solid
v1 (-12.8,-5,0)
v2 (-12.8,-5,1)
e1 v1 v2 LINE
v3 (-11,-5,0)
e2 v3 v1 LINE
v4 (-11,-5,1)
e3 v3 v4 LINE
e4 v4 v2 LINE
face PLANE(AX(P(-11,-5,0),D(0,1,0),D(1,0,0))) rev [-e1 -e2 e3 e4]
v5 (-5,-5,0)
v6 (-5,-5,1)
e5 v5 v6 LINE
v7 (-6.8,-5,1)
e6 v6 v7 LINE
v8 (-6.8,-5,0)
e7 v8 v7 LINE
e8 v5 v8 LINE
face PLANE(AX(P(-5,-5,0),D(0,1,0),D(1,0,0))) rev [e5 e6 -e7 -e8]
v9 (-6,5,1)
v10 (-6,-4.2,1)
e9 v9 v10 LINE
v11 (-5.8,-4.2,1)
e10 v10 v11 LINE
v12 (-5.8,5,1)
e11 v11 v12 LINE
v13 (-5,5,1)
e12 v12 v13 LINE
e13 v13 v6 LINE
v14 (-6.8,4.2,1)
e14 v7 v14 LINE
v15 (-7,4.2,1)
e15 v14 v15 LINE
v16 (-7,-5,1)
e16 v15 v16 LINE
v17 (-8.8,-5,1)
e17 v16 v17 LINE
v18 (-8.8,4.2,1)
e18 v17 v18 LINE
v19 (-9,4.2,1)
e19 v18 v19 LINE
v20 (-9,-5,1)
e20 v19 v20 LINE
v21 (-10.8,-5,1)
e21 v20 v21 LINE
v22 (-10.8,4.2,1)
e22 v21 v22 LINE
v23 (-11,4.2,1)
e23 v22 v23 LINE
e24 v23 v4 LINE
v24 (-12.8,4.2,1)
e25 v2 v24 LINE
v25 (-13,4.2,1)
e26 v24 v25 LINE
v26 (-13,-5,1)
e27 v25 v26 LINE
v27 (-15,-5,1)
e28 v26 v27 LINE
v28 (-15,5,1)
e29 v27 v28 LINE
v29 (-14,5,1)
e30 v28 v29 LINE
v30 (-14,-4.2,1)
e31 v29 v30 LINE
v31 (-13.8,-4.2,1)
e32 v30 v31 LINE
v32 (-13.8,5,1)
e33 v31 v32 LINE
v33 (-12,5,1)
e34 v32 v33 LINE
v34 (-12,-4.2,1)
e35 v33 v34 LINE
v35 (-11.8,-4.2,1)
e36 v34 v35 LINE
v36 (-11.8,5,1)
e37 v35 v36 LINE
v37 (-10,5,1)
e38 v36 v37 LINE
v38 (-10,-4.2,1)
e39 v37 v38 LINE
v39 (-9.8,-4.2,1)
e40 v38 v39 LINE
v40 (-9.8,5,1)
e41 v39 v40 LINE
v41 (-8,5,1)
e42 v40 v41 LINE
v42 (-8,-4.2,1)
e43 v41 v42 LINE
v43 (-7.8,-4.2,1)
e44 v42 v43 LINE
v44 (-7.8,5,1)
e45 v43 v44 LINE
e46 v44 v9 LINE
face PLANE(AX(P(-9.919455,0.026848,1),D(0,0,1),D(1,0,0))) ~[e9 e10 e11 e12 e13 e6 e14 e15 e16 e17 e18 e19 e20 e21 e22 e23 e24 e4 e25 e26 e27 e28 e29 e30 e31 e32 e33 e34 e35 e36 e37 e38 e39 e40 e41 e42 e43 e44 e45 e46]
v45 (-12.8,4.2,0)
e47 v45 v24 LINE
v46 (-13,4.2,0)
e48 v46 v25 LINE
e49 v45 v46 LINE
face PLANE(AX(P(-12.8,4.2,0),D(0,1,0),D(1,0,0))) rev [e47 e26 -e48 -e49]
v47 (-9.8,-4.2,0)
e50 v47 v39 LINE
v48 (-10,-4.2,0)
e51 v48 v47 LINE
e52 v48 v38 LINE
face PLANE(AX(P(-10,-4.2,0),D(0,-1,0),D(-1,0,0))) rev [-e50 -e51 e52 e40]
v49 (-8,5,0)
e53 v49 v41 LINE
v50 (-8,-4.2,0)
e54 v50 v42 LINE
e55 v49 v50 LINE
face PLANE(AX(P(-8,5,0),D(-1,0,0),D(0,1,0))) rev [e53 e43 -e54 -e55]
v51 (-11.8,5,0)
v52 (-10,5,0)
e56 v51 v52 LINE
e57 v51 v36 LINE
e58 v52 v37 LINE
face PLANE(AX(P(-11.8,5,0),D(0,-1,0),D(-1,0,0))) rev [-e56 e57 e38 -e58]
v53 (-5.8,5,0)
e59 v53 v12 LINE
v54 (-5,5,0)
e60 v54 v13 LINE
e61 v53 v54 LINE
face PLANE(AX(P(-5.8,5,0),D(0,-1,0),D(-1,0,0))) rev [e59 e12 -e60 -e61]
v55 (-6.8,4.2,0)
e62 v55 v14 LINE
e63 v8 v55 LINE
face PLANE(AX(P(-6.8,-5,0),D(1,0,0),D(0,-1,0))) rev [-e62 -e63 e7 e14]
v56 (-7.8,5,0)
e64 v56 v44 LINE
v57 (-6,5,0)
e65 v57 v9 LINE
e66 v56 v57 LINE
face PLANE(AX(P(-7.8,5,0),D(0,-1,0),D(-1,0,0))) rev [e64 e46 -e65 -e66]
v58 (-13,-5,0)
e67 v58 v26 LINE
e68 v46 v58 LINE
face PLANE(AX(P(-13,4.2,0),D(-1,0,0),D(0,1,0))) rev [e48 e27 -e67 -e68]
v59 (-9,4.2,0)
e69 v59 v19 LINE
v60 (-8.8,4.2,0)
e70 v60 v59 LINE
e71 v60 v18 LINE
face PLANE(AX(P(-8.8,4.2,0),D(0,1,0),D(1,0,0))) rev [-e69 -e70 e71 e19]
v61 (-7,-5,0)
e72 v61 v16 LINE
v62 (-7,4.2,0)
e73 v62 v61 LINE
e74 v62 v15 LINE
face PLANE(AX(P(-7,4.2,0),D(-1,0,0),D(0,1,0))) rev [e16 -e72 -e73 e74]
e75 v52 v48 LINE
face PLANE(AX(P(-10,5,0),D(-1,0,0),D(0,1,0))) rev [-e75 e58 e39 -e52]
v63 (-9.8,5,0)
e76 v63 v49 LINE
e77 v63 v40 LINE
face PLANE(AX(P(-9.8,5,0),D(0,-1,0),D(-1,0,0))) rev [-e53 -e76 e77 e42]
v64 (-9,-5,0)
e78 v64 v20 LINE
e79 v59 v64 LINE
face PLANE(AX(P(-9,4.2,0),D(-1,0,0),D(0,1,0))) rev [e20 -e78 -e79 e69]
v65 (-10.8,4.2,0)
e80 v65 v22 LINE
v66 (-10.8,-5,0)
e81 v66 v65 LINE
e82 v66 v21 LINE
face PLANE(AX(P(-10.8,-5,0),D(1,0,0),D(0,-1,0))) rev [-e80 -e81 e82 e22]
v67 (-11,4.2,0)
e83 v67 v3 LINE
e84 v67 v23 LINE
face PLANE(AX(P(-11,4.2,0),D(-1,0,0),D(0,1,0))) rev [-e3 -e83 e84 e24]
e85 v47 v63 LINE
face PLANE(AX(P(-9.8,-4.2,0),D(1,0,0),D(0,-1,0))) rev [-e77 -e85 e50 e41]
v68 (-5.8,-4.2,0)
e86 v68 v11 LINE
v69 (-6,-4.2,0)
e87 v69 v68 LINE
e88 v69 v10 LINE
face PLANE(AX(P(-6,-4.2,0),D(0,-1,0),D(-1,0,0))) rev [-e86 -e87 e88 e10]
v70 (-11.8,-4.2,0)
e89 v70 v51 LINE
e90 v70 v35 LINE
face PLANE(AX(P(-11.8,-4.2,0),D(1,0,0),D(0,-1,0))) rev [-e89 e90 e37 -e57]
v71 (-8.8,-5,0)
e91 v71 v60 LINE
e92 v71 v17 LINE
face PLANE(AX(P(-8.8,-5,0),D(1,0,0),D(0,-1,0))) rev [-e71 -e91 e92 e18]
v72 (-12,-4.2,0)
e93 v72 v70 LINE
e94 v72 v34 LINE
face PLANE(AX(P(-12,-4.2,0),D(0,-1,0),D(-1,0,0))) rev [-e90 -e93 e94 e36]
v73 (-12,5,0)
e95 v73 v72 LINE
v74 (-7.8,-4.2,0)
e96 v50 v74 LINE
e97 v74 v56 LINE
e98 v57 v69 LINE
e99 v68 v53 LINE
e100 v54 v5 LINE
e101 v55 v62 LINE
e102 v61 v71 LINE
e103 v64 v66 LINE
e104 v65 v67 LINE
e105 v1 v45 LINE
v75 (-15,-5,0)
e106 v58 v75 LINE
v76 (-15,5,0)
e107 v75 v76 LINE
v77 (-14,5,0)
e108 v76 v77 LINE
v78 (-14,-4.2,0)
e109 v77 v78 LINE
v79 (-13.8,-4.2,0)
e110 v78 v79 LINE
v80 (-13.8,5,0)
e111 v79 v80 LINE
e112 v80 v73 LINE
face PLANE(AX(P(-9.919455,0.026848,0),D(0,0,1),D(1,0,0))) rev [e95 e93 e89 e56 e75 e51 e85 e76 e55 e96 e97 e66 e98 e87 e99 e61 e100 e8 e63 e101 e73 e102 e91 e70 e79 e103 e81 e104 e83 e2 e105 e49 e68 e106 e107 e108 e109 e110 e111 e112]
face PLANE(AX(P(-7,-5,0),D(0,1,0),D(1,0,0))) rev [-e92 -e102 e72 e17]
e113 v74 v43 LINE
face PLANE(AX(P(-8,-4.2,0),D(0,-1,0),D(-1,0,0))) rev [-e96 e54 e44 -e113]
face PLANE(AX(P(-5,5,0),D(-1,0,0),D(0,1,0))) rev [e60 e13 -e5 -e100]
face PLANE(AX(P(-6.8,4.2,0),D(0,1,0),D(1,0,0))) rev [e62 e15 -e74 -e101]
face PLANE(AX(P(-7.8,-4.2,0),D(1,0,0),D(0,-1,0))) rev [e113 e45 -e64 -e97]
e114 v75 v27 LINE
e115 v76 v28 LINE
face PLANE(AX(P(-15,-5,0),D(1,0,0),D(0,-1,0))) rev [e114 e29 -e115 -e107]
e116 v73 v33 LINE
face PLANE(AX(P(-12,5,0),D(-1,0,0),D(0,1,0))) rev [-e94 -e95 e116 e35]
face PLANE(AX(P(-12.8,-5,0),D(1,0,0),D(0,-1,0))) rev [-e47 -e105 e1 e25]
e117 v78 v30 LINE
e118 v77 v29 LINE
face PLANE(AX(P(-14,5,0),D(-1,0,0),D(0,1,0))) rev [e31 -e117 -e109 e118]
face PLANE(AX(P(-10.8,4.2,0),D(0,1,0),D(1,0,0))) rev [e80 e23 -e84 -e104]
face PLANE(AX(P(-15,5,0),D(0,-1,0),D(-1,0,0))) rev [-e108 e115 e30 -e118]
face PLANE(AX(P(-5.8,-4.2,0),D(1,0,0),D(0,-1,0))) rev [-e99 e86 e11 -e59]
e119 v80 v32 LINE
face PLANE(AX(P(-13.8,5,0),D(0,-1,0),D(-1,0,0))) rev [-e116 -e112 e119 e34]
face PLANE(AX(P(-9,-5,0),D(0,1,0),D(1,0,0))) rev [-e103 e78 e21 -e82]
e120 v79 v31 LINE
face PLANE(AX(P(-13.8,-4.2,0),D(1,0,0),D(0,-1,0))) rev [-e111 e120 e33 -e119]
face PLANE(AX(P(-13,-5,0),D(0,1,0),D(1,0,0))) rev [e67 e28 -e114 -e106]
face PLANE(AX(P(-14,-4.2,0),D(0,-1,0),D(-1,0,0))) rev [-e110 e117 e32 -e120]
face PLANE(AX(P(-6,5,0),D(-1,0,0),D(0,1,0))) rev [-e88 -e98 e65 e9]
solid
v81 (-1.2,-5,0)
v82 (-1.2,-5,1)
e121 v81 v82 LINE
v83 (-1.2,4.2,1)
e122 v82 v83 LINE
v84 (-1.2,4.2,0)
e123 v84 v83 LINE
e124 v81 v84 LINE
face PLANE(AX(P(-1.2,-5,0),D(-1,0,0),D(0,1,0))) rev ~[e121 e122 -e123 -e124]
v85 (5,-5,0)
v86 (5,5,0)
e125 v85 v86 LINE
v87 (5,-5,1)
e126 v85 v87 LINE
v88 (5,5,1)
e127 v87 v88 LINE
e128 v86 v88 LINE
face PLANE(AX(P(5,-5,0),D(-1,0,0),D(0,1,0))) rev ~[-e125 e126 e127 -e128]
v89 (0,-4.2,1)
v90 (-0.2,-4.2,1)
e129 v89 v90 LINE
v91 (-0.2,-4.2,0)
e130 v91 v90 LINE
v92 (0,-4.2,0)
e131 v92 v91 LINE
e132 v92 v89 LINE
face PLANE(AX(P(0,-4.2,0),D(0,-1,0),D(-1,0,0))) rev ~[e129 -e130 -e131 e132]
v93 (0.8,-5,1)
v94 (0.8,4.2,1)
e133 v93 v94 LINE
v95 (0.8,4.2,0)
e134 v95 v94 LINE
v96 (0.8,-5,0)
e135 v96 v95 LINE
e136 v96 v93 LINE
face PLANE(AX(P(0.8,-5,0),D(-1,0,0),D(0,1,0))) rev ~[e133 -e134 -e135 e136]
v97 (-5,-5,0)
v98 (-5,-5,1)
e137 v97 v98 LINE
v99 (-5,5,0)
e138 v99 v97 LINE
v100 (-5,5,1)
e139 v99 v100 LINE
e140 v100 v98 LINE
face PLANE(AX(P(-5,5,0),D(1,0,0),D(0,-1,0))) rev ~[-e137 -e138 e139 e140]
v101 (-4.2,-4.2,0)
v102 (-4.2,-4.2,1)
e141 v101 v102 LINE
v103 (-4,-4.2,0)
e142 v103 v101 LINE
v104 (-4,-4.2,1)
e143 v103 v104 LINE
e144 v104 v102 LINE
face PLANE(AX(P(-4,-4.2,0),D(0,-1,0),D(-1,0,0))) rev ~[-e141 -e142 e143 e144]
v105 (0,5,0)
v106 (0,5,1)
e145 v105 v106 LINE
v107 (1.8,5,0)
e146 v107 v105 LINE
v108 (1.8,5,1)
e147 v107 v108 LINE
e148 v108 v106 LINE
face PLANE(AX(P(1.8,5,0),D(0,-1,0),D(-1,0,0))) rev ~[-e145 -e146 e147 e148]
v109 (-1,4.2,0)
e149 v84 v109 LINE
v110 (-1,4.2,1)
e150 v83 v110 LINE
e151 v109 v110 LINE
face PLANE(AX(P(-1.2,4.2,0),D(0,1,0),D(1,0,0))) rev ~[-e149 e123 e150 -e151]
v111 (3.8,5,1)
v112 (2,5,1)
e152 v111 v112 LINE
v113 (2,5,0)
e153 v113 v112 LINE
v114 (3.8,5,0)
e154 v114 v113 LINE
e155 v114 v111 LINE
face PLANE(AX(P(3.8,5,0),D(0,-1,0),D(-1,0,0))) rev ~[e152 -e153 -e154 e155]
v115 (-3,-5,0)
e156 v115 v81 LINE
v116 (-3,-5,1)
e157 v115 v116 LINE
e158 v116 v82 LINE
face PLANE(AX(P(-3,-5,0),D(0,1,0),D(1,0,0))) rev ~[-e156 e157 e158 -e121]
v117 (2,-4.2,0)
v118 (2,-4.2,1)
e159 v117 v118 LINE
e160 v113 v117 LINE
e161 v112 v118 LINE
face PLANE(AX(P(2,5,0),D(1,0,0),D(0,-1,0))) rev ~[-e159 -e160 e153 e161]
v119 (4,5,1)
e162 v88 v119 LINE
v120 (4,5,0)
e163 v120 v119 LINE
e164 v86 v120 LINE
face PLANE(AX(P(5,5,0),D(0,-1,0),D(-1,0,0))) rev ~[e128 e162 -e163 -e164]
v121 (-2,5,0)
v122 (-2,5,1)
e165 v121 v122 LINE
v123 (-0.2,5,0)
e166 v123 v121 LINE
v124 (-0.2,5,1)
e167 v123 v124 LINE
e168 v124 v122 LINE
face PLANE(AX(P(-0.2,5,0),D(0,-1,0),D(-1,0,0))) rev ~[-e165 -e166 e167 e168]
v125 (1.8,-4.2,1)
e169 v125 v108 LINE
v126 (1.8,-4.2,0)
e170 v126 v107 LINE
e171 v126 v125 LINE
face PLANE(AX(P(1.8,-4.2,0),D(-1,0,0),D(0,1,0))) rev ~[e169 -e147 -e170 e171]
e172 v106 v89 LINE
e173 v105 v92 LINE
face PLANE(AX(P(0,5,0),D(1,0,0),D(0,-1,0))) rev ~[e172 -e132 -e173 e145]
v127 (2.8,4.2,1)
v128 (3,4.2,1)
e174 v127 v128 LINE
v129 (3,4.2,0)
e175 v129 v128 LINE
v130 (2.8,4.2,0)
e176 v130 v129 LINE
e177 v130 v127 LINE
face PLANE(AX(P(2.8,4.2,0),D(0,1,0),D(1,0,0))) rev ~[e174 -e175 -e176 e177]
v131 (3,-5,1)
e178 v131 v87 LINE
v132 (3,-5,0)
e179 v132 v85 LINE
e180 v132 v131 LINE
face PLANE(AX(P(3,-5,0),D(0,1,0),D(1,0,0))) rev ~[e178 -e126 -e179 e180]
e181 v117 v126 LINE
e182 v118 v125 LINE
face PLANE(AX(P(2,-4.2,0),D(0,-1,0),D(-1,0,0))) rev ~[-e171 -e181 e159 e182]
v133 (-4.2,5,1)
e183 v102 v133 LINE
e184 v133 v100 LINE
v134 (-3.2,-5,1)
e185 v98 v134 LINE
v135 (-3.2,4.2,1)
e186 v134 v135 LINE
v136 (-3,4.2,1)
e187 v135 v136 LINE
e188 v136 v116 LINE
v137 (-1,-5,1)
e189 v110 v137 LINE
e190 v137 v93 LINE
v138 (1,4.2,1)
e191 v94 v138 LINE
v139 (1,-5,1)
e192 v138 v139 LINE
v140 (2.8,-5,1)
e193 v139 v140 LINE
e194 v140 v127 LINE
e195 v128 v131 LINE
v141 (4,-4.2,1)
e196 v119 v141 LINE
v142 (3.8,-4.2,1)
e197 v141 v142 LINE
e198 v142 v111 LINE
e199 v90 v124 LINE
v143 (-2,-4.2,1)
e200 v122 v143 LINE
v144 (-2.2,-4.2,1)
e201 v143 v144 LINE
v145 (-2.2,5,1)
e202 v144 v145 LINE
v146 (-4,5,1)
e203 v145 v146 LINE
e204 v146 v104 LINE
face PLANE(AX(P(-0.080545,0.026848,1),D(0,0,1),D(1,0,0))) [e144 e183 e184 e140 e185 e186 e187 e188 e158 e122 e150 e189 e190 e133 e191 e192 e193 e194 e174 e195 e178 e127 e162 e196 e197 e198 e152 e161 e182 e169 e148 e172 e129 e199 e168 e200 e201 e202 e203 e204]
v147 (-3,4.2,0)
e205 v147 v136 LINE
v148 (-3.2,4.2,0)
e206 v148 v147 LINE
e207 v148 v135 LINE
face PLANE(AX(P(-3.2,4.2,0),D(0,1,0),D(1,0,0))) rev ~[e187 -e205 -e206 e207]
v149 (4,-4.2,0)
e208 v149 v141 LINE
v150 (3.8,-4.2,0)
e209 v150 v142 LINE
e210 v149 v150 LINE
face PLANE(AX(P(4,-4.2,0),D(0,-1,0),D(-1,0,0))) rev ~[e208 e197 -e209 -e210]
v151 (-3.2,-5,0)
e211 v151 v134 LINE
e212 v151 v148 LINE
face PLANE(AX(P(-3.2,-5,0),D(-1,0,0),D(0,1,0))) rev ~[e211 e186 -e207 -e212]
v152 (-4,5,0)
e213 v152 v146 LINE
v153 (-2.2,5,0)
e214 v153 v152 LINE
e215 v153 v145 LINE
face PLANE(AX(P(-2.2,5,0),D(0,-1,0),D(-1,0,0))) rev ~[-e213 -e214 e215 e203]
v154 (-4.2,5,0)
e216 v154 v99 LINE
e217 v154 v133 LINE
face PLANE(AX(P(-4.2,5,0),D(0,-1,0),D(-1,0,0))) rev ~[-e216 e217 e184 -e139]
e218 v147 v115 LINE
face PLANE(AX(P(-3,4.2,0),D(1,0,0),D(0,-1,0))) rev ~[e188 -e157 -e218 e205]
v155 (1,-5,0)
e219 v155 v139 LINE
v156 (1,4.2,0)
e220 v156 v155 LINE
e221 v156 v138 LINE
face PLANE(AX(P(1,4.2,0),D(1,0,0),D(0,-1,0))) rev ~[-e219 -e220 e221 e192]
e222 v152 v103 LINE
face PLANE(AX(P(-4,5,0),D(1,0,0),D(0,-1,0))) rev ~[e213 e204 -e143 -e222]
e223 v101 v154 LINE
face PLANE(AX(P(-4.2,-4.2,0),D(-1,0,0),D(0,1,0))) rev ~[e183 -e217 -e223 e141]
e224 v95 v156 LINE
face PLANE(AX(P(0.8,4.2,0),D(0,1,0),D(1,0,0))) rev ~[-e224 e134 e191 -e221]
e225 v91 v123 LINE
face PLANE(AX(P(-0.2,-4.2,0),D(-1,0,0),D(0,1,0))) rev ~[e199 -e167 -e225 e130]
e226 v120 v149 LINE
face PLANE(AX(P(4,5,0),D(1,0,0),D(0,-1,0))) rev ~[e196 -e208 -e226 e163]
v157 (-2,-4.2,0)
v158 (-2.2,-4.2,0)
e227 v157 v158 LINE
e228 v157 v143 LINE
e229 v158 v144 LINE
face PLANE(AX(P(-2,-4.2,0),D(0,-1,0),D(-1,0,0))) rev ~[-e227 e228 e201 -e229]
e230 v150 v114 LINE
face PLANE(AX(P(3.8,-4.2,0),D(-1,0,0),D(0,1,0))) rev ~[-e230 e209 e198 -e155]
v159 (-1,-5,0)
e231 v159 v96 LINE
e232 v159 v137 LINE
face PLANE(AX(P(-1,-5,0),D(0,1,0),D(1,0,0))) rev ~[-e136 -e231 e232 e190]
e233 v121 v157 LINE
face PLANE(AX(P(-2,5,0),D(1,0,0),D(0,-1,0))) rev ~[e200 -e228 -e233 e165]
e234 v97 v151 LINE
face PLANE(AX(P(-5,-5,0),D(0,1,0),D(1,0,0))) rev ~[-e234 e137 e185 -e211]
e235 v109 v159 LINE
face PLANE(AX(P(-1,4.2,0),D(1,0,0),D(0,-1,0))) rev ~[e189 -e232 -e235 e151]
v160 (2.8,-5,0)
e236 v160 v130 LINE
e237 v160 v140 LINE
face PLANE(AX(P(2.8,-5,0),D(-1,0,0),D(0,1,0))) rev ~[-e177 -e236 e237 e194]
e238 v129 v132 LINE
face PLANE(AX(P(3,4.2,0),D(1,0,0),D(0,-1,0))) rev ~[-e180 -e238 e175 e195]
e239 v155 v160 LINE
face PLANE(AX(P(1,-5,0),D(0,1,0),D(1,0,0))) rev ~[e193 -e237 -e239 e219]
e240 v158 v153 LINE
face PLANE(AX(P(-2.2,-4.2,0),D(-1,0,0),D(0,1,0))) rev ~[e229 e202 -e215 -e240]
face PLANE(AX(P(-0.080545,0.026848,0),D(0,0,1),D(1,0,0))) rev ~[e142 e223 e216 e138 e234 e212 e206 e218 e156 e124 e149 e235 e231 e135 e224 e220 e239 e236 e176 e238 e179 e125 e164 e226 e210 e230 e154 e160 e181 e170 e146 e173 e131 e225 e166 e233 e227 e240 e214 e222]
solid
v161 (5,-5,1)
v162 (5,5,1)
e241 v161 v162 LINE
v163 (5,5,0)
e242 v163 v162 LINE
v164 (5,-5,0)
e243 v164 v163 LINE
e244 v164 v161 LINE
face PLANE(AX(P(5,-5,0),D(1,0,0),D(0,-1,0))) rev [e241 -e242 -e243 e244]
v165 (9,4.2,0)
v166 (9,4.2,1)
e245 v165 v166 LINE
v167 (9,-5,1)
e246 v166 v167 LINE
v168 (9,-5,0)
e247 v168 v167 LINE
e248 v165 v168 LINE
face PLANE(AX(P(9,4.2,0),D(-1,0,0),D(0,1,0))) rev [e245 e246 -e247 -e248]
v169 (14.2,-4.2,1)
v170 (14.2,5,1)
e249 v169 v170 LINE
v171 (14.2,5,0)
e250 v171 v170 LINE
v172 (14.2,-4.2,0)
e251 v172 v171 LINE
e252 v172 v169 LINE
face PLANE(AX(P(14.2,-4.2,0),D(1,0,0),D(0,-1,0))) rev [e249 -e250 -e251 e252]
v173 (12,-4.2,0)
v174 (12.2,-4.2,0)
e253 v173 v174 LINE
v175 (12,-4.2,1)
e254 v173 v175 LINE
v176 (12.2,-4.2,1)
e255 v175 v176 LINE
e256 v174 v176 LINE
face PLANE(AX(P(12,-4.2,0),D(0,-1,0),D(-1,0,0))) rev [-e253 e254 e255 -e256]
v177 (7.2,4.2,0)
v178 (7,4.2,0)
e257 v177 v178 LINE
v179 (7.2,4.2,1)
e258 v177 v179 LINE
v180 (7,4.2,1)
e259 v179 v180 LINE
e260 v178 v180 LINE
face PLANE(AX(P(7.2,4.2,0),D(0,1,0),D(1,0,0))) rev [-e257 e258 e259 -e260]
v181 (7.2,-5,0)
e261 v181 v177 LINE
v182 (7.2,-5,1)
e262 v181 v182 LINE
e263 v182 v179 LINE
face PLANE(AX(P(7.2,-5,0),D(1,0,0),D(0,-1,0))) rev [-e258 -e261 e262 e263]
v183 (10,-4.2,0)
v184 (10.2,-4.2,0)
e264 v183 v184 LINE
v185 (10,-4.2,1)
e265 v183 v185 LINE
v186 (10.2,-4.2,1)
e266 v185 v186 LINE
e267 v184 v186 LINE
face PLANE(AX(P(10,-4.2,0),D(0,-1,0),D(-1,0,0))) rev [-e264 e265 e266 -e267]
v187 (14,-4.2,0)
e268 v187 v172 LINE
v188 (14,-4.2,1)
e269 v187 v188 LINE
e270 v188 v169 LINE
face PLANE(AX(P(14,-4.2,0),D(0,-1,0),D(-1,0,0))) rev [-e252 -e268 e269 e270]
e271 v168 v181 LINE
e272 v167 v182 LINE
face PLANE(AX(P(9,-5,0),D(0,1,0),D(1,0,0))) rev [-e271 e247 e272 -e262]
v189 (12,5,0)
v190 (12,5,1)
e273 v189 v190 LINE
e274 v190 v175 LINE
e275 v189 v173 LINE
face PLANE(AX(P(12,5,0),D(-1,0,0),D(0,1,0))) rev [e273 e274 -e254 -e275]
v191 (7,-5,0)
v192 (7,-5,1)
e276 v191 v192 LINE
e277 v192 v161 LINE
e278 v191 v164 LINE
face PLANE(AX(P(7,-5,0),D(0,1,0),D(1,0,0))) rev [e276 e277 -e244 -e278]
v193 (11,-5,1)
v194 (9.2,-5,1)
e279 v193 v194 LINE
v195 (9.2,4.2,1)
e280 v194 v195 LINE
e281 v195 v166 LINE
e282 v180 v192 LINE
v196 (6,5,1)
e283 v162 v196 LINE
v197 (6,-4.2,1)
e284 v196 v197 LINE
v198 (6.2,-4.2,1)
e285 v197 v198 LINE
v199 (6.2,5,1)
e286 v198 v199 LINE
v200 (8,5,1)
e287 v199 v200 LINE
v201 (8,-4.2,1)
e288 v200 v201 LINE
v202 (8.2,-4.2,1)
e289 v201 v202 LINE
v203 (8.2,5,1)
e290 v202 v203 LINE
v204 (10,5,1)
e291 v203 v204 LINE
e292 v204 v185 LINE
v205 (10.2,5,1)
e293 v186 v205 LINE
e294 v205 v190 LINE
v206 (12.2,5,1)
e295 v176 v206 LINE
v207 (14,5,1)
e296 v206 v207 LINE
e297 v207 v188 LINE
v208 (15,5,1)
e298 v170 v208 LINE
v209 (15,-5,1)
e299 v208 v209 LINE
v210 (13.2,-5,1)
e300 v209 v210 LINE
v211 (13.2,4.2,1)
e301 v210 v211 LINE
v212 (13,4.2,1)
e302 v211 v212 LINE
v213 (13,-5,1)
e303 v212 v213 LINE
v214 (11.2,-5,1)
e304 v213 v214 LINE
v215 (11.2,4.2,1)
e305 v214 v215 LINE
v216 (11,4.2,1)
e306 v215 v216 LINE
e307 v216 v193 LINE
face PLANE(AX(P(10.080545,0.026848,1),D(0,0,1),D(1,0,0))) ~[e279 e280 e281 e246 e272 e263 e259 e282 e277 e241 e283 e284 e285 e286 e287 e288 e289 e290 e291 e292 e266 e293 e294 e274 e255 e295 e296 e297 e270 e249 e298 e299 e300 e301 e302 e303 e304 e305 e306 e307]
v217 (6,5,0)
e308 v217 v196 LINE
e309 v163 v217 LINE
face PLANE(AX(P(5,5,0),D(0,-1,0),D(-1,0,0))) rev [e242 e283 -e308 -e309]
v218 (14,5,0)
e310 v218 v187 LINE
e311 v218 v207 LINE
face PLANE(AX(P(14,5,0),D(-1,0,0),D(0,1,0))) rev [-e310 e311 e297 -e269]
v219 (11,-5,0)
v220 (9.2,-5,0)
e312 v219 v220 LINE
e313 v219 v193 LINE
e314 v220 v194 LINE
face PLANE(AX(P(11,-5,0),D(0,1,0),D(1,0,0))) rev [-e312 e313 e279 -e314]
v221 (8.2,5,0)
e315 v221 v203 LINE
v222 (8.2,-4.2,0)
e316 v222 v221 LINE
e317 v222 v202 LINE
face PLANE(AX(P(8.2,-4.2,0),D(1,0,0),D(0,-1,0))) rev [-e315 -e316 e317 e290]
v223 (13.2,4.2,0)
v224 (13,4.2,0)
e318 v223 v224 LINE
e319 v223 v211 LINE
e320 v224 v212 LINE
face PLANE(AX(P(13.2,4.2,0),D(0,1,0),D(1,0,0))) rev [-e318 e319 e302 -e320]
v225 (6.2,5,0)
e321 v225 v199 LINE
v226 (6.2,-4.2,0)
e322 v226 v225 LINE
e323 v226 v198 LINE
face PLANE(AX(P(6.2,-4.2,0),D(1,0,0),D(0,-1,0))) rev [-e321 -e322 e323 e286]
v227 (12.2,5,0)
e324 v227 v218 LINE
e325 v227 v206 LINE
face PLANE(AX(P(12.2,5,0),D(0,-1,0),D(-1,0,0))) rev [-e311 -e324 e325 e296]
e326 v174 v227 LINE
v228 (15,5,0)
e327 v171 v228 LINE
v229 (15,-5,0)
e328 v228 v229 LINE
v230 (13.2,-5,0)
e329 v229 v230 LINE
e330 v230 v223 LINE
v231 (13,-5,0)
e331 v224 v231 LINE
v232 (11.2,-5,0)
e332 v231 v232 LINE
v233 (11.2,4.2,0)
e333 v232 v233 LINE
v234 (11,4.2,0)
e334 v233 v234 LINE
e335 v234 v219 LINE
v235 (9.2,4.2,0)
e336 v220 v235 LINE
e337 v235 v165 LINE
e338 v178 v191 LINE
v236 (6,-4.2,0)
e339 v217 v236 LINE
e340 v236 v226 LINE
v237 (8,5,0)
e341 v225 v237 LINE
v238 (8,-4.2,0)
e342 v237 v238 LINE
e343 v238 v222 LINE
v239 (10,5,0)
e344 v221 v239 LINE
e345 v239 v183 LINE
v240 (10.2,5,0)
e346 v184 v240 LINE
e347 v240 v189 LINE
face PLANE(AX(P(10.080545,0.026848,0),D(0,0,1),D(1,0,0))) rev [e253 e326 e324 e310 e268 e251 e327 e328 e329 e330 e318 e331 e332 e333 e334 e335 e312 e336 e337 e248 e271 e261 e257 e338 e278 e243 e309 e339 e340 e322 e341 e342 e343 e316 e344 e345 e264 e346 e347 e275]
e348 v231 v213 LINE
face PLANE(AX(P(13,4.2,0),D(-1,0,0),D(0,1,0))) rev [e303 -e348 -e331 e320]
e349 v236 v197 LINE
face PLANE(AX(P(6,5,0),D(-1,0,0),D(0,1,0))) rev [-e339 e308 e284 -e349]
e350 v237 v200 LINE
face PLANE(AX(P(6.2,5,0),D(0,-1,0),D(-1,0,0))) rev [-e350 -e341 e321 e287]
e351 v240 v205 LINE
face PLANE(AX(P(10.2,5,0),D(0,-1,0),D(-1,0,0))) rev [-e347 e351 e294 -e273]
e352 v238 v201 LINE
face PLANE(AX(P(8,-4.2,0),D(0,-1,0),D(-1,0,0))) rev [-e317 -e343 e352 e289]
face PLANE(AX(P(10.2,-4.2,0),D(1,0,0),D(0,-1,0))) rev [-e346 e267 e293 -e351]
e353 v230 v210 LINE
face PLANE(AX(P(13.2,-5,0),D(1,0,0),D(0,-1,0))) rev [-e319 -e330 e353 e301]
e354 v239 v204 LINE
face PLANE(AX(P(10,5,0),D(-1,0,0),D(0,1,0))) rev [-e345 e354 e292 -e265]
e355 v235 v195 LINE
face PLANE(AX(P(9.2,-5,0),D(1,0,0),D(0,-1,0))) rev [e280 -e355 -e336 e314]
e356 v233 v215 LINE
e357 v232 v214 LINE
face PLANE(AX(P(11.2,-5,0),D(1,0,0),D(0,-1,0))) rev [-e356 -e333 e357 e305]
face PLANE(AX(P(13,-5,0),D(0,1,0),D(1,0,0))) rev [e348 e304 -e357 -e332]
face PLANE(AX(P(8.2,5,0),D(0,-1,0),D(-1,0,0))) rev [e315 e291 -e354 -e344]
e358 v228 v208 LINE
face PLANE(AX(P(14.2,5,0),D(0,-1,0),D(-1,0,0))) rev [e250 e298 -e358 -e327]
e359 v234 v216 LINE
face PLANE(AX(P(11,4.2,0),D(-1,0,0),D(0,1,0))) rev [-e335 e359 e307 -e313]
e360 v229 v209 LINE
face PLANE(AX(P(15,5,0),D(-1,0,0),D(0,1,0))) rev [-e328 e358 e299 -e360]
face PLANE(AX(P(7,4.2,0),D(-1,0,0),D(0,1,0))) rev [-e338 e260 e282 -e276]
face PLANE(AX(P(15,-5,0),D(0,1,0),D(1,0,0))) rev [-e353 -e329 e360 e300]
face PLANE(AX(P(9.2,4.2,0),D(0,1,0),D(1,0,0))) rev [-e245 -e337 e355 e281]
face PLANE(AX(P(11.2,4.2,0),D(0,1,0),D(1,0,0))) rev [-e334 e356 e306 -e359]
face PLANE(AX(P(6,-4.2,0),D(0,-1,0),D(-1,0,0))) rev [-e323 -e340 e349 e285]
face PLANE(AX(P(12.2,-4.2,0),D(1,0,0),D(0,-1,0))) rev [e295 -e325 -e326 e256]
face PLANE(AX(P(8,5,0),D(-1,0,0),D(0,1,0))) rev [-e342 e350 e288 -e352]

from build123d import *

# Parameters (mm, degrees)
F1_DEPTH = 1


with BuildPart() as f1:
    # F0 (on Top) → F1 (new body)
    with BuildSketch(Plane.XY):
        Polygon((5, -5), (5, 5), (4, 5), (4, -4.2), (3.8, -4.2), (3.8, 5), (2, 5), (2, -4.2), (1.8, -4.2), (1.8, 5), (0.888324, 5), (0, 5), (0, -4.2), (-0.2, -4.2), (-0.2, 5), (-2, 5), (-2, -4.2), (-2.2, -4.2), (-2.2, 5), (-4, 5), (-4, -4.2), (-4.2, -4.2), (-4.2, 5), (-5, 5), (-5, -5), (-3.2, -5), (-3.2, 4.2), (-3, 4.2), (-3, -5), (-1.2, -5), (-1.2, 4.2), (-1, 4.2), (-1, -5), (0.8, -5), (0.8, 4.2), (1, 4.2), (1, -5), (2.8, -5), (2.8, 4.2), (3, 4.2), (3, -5), align=None)
    extrude(amount=F1_DEPTH)


with BuildPart() as f2_1:
    # F2: instance of F1
    add(f1.part.mirror(Plane(origin=(5, 0, 0.5), x_dir=(0, 1, 0), z_dir=(1, 0, 0))))


with BuildPart() as f3_1:
    # F3: instance of F1
    add(f1.part.mirror(Plane(origin=(-5, 0, 0.5), x_dir=(0, -1, 0), z_dir=(-1, 0, 0))))


solid = Compound([f1.part, f2_1.part, f3_1.part])
